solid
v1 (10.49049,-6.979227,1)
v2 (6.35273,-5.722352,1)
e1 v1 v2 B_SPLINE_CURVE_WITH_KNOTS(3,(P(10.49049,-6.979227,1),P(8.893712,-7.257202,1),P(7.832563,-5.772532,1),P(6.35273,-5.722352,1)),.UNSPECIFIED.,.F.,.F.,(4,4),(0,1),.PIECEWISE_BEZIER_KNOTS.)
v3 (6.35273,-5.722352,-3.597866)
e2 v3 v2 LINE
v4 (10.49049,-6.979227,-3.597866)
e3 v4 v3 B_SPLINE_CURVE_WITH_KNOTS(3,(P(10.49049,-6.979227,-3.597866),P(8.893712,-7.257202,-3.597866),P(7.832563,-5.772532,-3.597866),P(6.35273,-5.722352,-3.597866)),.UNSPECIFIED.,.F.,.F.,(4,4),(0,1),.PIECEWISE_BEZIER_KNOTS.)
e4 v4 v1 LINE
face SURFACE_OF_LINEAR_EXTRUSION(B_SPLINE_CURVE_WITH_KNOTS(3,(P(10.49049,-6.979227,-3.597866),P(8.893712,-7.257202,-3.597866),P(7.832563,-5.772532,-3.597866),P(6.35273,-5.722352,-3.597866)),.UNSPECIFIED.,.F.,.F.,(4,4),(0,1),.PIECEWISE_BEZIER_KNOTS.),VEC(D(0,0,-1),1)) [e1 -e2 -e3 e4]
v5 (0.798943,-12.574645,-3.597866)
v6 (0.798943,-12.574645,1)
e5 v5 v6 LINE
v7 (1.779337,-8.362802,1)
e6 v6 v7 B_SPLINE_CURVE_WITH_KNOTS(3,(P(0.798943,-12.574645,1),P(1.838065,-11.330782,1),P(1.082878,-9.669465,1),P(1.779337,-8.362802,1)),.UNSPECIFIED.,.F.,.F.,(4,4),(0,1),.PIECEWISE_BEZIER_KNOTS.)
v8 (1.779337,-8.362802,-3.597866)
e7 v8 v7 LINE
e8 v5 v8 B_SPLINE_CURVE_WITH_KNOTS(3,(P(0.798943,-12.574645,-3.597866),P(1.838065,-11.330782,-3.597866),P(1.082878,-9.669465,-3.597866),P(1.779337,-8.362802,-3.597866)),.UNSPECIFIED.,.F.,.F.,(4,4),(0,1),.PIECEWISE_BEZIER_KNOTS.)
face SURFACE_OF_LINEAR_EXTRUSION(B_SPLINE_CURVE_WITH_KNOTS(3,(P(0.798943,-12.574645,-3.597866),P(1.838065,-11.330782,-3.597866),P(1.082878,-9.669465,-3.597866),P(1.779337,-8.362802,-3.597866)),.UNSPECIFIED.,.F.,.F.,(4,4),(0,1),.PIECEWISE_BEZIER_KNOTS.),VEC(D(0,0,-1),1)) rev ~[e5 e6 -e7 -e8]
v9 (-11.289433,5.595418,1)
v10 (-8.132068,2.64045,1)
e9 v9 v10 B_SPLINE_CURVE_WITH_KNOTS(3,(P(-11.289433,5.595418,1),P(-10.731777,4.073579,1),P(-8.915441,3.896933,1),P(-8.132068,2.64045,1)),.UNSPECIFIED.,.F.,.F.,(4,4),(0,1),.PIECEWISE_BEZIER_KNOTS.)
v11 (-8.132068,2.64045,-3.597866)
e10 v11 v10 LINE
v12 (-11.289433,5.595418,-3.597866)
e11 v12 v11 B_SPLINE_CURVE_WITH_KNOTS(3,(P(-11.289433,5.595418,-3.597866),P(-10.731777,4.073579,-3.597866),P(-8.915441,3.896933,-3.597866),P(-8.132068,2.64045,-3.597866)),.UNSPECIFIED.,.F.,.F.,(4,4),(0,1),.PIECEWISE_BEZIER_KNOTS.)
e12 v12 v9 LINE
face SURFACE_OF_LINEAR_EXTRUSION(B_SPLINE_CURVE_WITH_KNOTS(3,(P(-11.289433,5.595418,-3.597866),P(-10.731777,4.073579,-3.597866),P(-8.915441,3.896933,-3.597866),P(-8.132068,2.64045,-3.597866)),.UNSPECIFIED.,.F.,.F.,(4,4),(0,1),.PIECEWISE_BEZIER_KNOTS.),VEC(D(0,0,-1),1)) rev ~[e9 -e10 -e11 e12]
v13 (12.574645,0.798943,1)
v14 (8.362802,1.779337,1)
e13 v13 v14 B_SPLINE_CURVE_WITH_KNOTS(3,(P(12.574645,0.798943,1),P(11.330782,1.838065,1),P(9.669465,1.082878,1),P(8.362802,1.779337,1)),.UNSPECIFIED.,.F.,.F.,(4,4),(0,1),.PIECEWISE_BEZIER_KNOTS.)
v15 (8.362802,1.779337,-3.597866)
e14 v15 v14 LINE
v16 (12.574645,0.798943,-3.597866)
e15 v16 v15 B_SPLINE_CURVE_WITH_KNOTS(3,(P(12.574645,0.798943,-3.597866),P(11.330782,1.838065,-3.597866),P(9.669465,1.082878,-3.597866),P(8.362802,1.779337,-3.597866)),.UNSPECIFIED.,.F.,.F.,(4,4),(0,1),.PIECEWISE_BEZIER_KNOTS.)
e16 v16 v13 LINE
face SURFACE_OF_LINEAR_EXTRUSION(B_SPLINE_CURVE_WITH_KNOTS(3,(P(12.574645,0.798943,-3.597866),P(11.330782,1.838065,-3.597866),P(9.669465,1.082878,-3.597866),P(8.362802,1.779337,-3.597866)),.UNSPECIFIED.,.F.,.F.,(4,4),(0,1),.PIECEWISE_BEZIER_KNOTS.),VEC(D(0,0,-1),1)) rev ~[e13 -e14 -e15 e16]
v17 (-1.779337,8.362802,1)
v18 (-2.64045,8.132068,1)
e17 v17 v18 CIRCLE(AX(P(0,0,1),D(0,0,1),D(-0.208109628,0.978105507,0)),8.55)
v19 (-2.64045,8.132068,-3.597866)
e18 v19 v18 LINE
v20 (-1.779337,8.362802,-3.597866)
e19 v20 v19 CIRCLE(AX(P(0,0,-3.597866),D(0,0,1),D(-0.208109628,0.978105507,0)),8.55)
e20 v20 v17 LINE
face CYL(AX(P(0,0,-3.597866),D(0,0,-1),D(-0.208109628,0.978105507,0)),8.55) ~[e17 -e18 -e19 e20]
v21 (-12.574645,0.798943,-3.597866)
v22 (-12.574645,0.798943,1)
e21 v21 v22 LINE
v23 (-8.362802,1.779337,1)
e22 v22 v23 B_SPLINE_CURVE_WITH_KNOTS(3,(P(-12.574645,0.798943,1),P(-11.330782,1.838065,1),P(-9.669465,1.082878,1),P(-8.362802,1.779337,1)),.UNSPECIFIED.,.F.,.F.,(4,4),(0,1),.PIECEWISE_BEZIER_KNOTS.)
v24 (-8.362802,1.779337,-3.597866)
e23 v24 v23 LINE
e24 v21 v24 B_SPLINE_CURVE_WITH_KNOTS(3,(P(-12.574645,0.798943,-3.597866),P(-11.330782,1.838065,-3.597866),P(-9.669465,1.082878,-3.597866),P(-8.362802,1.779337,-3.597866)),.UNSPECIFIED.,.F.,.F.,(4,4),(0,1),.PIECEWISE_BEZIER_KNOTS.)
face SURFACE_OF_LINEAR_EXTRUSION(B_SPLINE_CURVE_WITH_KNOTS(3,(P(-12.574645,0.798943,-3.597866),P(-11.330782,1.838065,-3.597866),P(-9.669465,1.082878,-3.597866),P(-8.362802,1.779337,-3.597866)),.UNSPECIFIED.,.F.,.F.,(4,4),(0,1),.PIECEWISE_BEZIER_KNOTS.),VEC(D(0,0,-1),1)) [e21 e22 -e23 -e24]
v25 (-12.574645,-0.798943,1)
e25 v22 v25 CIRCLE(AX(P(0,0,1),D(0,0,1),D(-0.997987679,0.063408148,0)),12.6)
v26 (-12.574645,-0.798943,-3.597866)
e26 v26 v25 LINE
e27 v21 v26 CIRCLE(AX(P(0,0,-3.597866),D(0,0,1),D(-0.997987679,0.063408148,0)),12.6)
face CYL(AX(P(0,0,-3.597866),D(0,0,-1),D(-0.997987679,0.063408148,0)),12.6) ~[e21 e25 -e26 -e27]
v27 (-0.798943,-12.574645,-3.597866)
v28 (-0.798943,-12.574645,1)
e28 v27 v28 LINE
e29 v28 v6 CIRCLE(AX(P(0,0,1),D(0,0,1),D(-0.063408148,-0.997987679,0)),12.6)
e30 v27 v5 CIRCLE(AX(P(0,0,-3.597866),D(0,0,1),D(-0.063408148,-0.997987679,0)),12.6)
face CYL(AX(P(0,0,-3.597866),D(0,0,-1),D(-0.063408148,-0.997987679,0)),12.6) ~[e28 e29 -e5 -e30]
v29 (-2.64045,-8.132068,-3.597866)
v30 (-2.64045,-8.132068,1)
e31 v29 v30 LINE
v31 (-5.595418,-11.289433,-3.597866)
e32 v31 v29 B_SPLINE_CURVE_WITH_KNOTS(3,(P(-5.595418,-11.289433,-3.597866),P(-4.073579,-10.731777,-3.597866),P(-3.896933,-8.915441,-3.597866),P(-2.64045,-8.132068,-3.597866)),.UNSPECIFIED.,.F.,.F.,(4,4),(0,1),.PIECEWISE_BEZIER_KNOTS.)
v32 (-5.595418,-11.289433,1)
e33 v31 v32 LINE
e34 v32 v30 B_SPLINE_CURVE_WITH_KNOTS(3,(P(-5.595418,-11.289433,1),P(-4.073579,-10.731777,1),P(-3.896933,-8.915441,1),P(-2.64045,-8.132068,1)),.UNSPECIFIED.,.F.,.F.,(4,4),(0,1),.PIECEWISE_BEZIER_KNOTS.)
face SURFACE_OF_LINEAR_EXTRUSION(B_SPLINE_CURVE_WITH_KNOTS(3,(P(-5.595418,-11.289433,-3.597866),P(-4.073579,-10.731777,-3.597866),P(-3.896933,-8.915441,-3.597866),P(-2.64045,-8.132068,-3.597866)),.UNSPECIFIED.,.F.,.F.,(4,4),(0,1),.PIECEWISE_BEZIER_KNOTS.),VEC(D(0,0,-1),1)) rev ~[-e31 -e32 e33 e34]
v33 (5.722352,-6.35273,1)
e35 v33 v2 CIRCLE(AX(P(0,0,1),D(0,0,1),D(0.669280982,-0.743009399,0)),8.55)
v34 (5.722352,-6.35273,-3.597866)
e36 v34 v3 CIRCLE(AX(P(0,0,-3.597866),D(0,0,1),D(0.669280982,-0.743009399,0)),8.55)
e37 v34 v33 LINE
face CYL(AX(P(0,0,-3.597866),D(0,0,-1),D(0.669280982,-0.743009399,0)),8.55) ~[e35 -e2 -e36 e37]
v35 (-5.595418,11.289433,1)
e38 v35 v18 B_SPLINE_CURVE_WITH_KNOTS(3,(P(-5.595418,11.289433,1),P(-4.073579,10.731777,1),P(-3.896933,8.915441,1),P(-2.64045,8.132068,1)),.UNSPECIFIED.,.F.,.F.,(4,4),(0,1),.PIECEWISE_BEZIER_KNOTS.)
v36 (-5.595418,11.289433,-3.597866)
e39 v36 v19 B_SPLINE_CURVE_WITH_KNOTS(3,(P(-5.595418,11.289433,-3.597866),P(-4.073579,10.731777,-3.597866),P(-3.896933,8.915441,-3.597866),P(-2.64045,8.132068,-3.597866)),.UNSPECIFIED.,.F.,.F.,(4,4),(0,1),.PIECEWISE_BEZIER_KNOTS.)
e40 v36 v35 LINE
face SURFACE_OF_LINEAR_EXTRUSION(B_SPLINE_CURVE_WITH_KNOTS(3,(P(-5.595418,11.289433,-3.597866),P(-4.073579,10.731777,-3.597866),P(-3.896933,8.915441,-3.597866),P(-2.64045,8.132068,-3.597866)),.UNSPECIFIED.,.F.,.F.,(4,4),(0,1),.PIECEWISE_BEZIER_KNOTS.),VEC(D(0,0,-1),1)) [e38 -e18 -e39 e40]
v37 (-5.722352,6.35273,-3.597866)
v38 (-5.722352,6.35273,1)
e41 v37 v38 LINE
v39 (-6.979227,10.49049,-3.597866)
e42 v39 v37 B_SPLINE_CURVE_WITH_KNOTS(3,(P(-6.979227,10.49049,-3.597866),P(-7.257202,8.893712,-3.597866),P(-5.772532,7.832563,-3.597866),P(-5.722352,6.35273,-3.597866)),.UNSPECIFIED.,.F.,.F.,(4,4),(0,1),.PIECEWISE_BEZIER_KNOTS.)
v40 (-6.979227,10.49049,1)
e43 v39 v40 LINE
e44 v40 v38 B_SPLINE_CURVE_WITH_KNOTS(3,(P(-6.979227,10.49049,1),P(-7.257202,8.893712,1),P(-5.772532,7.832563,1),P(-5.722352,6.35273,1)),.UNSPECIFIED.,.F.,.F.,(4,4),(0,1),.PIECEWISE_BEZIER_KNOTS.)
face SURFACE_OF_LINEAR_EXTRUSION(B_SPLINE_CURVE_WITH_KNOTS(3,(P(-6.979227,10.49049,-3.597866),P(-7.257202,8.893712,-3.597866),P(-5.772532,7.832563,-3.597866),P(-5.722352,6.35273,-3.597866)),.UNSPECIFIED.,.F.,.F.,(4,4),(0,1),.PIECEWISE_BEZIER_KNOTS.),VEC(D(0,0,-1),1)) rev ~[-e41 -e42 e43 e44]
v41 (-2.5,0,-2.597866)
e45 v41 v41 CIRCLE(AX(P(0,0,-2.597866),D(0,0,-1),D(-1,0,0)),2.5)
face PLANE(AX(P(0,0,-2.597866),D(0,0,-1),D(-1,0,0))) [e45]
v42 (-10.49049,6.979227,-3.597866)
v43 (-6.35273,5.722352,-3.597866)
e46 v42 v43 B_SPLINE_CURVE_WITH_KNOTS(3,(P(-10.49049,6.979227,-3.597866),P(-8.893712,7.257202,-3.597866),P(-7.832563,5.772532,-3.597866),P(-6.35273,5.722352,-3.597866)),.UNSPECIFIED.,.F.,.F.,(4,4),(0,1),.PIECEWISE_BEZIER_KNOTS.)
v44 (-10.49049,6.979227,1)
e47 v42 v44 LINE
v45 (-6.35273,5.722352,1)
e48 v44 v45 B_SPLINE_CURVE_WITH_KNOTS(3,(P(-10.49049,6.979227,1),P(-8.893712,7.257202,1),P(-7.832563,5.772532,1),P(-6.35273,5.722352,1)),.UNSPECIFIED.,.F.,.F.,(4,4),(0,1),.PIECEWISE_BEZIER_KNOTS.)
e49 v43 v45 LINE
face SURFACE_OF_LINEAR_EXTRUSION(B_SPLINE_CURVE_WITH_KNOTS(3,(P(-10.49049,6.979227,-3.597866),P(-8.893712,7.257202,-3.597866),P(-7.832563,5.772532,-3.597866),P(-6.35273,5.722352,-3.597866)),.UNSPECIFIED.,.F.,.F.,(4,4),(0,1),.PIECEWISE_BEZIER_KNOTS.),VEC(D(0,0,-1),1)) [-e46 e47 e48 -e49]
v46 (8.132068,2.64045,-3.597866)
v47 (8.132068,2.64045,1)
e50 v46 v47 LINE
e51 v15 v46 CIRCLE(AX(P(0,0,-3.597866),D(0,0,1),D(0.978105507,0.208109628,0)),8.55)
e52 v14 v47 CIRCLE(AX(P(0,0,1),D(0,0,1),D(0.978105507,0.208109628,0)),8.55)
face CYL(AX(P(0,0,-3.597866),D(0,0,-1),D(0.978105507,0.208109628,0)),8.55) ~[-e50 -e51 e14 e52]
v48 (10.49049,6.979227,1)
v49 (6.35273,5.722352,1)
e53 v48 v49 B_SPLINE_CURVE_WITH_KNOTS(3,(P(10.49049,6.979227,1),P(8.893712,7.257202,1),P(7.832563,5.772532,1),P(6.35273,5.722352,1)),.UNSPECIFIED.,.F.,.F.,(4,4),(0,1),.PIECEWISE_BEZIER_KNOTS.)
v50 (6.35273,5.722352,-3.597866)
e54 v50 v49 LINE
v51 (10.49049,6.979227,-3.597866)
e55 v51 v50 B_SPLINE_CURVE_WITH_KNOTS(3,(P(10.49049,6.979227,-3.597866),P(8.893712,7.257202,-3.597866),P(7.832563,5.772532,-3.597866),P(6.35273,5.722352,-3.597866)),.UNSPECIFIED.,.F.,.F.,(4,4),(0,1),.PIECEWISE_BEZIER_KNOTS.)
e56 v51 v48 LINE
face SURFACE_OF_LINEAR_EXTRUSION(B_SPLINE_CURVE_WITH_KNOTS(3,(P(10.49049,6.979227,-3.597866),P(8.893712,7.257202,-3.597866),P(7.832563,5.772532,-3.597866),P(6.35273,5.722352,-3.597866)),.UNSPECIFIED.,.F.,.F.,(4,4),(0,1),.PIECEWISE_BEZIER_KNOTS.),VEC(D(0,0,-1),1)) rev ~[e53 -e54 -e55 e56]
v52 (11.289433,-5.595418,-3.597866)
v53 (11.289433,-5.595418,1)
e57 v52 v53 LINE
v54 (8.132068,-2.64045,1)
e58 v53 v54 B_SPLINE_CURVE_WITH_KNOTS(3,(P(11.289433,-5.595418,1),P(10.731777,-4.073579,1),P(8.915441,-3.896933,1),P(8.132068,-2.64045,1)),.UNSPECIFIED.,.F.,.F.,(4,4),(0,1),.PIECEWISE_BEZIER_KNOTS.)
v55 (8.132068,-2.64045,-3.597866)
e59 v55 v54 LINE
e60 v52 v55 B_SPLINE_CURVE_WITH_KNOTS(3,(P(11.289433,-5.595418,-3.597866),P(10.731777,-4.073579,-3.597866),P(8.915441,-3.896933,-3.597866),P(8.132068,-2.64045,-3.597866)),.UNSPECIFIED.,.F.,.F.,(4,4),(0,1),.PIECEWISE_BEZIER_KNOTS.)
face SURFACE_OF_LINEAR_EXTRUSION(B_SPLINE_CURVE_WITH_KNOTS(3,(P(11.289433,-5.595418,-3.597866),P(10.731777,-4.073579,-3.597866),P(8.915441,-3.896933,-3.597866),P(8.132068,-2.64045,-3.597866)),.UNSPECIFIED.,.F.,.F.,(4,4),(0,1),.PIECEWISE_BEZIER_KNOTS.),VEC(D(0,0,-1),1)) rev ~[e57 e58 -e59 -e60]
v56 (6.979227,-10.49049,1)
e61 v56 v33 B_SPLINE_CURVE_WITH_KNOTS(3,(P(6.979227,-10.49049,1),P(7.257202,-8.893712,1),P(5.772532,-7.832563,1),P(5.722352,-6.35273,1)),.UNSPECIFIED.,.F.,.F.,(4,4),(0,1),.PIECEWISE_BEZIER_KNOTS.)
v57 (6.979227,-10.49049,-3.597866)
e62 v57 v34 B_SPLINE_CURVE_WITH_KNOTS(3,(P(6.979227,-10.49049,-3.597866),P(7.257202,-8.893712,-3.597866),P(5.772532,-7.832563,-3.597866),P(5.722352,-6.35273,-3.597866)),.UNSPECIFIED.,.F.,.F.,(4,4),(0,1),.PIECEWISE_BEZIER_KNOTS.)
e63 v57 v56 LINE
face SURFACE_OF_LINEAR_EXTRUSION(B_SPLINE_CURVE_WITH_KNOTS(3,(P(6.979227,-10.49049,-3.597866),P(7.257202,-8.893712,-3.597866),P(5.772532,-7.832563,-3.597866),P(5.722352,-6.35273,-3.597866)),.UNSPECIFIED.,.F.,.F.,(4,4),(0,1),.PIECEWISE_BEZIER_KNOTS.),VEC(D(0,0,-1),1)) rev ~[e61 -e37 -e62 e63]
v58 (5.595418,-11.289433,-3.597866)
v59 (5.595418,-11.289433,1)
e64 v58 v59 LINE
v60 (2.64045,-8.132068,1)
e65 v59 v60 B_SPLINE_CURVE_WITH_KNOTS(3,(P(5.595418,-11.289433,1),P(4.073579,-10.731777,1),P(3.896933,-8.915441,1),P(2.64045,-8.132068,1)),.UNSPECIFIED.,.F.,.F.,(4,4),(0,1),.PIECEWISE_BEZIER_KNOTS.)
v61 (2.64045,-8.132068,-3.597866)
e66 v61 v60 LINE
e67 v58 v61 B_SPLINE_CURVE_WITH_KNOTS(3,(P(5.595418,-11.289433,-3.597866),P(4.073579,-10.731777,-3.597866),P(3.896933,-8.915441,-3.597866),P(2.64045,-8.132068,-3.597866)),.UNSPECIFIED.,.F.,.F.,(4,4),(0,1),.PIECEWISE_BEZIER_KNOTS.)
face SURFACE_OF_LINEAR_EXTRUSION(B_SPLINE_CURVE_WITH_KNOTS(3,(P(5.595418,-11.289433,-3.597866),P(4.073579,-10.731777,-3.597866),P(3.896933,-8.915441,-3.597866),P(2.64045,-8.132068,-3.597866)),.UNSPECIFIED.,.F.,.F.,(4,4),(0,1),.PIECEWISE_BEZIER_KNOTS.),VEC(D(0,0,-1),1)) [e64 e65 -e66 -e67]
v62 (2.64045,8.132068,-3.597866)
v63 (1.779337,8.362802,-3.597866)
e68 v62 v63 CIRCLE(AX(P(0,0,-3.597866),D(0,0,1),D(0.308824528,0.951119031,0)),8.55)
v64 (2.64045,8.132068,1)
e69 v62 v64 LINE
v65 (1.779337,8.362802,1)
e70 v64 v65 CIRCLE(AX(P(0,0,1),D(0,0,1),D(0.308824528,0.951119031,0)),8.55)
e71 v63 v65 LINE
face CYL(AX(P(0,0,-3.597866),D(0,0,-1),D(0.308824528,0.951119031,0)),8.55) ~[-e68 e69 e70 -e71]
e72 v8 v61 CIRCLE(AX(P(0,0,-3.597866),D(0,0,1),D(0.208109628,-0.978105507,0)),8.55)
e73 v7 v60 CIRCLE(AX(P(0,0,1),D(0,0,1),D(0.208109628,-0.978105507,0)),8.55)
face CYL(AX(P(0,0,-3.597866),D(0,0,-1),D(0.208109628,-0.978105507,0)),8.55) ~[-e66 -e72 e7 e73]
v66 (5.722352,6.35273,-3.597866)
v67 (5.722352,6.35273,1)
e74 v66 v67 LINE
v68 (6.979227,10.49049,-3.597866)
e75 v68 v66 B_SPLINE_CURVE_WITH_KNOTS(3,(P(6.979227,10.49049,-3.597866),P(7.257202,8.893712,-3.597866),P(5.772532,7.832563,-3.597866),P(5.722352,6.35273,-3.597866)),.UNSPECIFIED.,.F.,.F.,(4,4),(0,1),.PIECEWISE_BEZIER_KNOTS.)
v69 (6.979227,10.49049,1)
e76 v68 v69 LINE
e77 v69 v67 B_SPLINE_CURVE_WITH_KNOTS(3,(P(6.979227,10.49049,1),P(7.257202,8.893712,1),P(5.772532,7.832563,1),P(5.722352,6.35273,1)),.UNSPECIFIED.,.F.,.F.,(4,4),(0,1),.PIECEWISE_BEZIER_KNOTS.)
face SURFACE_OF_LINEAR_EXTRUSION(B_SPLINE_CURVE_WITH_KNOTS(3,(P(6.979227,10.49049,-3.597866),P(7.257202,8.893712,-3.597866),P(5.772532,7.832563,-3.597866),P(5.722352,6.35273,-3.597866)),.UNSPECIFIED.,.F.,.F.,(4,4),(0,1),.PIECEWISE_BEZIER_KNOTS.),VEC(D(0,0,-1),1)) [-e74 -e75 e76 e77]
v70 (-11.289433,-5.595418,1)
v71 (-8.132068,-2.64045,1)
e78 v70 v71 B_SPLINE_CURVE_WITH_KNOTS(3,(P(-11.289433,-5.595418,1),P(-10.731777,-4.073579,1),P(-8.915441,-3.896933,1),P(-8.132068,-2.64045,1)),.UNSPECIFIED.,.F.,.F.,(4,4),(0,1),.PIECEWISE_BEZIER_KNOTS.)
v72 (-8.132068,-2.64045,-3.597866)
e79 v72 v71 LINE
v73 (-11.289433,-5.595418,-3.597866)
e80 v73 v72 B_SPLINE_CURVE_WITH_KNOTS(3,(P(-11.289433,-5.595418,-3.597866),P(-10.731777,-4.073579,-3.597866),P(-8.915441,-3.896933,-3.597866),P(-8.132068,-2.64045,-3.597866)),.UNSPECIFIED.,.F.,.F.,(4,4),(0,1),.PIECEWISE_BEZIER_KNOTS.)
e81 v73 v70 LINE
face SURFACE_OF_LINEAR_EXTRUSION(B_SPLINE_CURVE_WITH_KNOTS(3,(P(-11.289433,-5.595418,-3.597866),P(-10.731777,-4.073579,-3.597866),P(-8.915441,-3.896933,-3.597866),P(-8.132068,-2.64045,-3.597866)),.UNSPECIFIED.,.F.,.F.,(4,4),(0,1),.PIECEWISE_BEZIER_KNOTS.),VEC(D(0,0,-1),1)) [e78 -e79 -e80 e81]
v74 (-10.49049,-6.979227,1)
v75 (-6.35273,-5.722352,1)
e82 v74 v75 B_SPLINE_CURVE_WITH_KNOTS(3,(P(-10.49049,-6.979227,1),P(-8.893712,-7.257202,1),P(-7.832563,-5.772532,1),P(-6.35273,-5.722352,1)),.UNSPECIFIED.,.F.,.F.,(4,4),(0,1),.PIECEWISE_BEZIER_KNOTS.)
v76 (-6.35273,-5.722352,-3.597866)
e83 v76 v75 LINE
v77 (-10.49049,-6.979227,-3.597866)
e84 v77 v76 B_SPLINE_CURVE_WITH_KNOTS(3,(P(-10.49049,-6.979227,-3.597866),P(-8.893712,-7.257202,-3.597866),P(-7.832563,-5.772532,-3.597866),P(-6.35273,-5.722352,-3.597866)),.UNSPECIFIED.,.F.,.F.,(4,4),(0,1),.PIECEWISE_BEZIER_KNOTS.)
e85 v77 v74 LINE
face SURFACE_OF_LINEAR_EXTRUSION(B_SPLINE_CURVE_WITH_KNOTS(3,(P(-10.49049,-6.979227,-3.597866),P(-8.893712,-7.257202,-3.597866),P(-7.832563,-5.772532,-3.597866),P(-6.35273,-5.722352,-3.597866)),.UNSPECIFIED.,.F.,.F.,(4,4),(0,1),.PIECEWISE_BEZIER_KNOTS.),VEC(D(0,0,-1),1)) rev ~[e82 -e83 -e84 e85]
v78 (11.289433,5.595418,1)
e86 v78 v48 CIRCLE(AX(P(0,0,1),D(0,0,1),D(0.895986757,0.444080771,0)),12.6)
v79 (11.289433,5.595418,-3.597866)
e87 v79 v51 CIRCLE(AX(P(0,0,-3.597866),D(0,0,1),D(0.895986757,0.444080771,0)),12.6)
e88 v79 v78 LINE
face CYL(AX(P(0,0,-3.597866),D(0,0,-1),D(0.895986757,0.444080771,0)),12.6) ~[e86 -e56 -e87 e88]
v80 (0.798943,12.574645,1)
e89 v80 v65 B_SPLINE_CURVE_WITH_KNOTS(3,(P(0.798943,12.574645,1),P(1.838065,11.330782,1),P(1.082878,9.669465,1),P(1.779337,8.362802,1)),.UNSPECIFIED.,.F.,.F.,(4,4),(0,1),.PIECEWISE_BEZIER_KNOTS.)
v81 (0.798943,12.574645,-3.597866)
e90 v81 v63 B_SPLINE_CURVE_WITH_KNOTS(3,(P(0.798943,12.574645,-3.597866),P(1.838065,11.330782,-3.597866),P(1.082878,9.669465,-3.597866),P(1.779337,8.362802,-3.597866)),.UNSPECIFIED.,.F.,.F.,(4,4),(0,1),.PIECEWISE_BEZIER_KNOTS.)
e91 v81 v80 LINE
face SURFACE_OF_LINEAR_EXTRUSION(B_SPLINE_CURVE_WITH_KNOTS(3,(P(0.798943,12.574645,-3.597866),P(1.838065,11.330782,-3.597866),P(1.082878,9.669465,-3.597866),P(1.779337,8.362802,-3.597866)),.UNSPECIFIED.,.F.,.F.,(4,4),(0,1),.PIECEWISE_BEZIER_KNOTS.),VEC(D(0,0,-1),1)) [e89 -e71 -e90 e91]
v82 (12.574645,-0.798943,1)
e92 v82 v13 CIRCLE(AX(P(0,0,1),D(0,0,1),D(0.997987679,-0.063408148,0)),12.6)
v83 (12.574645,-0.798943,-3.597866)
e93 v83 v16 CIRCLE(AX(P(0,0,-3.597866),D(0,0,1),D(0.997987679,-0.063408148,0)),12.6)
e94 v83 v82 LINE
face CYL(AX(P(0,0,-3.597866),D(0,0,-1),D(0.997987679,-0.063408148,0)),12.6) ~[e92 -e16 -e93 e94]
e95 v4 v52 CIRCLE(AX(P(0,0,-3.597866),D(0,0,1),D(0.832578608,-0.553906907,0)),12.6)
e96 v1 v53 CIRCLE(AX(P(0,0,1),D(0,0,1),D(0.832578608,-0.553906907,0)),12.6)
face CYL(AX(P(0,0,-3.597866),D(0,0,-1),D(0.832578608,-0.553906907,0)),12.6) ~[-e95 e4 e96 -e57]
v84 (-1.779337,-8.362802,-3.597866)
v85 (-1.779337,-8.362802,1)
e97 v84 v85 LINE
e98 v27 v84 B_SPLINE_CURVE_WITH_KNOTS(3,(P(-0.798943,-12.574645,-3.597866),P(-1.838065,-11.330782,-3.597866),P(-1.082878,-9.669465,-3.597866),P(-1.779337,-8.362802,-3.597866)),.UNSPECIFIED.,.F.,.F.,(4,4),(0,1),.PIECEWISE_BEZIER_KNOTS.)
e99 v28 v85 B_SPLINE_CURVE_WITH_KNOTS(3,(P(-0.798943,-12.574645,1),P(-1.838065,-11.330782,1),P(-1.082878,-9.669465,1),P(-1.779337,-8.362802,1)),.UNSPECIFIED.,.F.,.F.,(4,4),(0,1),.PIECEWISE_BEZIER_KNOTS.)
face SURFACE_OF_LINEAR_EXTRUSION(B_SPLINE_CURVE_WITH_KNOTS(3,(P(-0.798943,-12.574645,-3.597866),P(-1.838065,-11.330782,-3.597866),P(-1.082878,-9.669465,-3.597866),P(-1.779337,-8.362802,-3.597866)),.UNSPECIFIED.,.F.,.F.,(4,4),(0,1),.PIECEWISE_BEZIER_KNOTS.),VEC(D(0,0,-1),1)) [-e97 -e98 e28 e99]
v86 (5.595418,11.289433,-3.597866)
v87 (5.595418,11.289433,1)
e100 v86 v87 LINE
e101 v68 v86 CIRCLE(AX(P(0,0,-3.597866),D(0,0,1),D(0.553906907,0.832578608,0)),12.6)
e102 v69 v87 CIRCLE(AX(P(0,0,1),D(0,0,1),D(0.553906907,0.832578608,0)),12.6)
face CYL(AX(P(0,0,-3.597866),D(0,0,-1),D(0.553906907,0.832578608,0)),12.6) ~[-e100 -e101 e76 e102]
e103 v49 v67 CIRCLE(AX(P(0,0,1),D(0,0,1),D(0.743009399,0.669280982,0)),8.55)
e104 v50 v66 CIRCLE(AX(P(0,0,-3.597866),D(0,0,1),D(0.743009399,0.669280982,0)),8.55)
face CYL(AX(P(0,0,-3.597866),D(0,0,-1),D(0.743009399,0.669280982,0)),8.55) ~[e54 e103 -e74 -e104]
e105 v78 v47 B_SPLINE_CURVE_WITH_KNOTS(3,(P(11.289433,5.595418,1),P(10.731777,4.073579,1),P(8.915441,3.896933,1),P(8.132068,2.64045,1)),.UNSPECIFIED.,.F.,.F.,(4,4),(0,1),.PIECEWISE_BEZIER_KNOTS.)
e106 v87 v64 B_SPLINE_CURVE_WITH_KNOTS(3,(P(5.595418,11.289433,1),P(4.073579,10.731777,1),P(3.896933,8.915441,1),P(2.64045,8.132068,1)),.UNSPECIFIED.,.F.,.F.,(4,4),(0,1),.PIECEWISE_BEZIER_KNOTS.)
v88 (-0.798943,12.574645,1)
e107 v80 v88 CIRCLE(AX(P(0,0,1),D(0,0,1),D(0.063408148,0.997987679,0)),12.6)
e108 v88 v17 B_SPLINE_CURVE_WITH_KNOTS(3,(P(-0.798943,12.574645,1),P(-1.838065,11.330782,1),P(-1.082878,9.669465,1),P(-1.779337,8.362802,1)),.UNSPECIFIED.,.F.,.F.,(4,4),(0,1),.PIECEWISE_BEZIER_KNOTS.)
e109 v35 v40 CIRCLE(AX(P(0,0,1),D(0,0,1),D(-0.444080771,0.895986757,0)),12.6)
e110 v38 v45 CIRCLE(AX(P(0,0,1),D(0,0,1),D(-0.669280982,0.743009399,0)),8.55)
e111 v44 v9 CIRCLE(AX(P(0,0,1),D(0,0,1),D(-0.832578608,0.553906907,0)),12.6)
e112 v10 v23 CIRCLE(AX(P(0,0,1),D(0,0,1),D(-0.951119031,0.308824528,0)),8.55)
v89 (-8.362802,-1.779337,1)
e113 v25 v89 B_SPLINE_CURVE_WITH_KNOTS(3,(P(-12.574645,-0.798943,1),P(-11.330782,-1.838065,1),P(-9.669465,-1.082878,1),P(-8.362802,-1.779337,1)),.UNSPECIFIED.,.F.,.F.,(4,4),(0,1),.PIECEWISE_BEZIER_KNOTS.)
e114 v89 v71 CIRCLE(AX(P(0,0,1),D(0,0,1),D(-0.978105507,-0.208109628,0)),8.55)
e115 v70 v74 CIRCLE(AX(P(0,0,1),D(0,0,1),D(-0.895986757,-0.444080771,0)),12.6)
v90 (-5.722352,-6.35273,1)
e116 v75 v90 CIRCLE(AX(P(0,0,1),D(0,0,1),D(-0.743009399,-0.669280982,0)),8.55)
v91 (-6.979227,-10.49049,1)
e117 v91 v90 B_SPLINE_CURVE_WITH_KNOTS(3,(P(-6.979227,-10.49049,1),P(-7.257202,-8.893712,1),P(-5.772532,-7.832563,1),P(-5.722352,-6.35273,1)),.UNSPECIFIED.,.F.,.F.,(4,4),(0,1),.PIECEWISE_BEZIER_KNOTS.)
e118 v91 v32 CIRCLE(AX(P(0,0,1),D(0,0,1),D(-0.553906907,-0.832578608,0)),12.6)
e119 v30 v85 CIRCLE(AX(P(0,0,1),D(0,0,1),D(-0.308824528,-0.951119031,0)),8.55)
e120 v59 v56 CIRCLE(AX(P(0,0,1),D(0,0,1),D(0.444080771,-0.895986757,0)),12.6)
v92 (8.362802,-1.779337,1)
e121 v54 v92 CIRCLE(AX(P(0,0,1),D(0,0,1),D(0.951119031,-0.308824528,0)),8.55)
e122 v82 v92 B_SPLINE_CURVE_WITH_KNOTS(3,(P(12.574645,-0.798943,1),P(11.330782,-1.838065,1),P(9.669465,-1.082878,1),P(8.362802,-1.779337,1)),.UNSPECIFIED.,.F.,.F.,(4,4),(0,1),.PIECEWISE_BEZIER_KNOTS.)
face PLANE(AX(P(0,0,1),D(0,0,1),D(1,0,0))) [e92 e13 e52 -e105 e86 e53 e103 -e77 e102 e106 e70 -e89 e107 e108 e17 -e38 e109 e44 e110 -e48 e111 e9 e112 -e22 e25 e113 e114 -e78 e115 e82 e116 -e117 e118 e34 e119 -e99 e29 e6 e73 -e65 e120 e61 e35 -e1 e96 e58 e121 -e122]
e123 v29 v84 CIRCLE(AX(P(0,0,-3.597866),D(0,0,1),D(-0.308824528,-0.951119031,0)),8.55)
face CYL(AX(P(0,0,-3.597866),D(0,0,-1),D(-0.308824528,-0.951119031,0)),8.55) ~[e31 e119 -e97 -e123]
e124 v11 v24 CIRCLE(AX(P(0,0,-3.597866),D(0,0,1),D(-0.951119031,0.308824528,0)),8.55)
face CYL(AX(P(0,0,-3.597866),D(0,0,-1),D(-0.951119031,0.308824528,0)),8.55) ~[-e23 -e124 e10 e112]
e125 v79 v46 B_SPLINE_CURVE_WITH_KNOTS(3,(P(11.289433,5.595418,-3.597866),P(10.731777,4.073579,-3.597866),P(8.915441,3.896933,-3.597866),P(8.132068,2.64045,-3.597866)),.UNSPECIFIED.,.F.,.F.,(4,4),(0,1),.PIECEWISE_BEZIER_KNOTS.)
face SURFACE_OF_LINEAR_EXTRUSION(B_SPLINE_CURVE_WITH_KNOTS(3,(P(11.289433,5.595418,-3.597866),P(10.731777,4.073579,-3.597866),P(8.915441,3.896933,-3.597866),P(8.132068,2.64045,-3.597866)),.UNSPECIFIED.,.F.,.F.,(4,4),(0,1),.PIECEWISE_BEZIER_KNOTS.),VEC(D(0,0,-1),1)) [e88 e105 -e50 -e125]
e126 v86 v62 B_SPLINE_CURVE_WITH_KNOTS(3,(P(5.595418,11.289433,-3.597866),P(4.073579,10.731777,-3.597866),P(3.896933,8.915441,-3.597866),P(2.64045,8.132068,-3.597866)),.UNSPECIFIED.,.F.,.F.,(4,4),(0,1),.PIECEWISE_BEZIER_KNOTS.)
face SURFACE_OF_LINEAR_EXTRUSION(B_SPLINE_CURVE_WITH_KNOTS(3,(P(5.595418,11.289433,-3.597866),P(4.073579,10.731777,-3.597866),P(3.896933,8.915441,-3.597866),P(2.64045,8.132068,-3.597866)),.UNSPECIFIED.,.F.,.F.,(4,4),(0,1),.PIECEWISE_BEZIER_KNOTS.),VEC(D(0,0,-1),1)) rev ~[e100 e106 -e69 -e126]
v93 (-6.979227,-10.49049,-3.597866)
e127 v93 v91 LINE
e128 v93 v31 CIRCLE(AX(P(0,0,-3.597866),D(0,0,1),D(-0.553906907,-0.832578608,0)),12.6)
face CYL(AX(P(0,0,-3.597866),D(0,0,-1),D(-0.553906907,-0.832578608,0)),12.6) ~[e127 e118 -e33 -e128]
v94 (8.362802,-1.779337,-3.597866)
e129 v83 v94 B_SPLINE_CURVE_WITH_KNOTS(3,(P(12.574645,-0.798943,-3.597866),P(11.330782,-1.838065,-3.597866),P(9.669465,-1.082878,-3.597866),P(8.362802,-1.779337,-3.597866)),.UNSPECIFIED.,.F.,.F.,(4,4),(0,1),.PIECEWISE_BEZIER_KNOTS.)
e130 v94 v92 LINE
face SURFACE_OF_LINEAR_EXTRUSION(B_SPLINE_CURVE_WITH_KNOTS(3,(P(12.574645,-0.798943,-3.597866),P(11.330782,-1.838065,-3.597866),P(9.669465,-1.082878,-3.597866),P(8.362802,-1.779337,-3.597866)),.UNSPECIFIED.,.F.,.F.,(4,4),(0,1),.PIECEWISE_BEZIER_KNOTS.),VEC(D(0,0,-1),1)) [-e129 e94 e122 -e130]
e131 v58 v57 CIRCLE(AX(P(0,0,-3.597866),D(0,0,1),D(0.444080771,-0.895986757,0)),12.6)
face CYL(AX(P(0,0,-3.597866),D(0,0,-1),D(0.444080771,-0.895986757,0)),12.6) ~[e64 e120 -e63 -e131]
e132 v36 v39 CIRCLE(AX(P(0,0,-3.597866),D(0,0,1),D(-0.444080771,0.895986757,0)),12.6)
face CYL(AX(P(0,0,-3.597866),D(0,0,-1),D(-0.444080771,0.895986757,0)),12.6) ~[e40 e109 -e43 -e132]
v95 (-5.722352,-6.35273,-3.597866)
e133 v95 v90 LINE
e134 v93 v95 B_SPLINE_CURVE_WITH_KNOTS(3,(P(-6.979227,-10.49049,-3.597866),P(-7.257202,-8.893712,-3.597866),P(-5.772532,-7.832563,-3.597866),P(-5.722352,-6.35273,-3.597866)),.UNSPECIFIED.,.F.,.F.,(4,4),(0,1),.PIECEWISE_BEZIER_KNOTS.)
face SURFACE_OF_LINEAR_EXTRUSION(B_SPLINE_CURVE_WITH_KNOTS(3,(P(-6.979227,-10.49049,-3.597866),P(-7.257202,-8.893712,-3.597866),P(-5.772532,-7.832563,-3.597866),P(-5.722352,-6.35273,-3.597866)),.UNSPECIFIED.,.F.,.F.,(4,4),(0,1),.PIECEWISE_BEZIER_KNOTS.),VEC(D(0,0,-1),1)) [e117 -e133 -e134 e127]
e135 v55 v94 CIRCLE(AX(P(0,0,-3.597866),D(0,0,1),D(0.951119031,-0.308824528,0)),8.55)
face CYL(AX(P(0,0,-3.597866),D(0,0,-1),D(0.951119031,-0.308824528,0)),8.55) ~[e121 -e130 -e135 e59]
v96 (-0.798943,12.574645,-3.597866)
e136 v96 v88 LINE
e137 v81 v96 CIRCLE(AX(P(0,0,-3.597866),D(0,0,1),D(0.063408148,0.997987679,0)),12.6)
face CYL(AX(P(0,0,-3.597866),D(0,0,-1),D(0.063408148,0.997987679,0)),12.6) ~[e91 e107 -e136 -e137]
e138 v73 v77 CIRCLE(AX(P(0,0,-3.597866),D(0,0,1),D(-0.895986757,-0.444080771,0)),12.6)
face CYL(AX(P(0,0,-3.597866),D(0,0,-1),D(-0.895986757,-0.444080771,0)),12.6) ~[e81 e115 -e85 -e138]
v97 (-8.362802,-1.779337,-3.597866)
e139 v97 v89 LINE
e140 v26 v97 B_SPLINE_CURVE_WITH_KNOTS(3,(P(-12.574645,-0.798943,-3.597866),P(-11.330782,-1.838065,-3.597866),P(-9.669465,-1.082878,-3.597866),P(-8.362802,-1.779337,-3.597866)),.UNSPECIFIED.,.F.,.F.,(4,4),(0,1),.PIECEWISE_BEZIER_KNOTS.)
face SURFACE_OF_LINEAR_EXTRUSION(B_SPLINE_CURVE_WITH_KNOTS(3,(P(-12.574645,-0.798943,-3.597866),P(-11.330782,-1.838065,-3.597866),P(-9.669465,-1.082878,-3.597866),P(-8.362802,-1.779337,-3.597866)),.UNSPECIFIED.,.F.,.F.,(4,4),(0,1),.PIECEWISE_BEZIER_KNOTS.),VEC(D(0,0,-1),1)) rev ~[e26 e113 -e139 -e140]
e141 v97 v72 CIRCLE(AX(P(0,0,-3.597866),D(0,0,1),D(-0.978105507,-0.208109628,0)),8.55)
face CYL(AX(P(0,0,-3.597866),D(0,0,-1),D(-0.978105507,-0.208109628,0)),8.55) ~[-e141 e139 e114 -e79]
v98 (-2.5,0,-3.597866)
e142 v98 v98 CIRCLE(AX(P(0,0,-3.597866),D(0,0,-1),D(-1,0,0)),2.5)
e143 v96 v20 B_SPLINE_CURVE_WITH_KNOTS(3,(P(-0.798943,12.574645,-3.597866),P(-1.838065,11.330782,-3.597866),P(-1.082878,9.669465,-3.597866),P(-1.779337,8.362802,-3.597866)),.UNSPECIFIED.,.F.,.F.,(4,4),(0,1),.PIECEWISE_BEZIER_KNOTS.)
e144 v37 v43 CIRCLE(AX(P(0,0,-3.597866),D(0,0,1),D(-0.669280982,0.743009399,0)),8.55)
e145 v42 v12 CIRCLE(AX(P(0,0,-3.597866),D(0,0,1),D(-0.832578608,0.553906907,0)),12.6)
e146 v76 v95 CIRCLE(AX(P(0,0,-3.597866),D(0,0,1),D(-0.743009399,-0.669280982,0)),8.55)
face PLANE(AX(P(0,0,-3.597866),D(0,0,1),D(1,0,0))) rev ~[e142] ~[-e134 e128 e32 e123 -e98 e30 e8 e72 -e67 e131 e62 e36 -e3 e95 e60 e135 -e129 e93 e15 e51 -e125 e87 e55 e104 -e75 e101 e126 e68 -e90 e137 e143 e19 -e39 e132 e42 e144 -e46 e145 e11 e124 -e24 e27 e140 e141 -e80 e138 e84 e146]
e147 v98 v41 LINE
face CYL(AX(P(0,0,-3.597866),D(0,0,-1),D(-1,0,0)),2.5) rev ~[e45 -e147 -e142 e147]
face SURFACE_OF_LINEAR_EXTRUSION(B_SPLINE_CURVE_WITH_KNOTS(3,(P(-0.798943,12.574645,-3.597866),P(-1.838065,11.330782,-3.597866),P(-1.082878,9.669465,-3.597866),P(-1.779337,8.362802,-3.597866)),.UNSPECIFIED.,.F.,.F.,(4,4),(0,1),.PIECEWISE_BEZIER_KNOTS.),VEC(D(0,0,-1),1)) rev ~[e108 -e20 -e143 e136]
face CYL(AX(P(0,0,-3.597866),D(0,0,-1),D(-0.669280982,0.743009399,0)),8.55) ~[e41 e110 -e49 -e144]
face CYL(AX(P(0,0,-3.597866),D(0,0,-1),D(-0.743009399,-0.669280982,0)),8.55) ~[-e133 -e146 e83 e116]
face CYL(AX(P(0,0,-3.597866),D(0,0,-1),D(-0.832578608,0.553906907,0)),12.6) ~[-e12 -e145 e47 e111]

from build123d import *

# Parameters (mm, degrees)
EXTRUDE_1_DEPTH      = 1
EXTRUDE_1_DEPTH_BACK = 3.597865908
SKETCH_2_R           = 2.5
CUT_EXTRUDE_1_DEPTH  = 1


with BuildPart() as part:
    # 草图1 → 凸台-拉伸1 (new, two sides: drawn at the far end of the back side and taken through both)
    with BuildSketch(Plane.XY.offset(-EXTRUDE_1_DEPTH_BACK)):
        with BuildLine():
            ThreePointArc((-2.640449702, -8.132067718), (-2.212902836, -8.258665815), (-1.779337339, -8.36280208))
            add(Edge.make_bspline(
                [(-0.798942675, -12.574644751), (-1.838065444, -11.330781503), (-1.08287755, -9.669464778), (-1.779337339, -8.36280208)],
                knots=[0, 0, 0, 0, 1, 1, 1, 1], degree=3))
            ThreePointArc((-0.798942675, -12.574644751), (0, -12.6), (0.798942675, -12.574644751))
            add(Edge.make_bspline(
                [(0.798942675, -12.574644751), (1.838065444, -11.330781503), (1.08287755, -9.669464778), (1.779337339, -8.36280208)],
                knots=[0, 0, 0, 0, 1, 1, 1, 1], degree=3))
            ThreePointArc((1.779337339, -8.36280208), (2.212902836, -8.258665815), (2.640449702, -8.132067718))
            add(Edge.make_bspline(
                [(5.595417723, -11.289433135), (4.073579383, -10.731777349), (3.896932922, -8.915440914), (2.640449702, -8.132067718)],
                knots=[0, 0, 0, 0, 1, 1, 1, 1], degree=3))
            ThreePointArc((5.595417723, -11.289433135), (6.3, -10.911920088), (6.979227028, -10.49049046))
            add(Edge.make_bspline(
                [(6.979227028, -10.49049046), (7.25720212, -8.893711904), (5.772531856, -7.832563364), (5.722352378, -6.352730379)],
                knots=[0, 0, 0, 0, 1, 1, 1, 1], degree=3))
            ThreePointArc((5.722352378, -6.352730379), (6.045762979, -6.045762979), (6.352730379, -5.722352378))
            add(Edge.make_bspline(
                [(10.49049046, -6.979227028), (8.893711904, -7.25720212), (7.832563364, -5.772531856), (6.352730379, -5.722352378)],
                knots=[0, 0, 0, 0, 1, 1, 1, 1], degree=3))
            ThreePointArc((10.49049046, -6.979227028), (10.911920088, -6.3), (11.289433135, -5.595417723))
            add(Edge.make_bspline(
                [(11.289433135, -5.595417723), (10.731777349, -4.073579383), (8.915440914, -3.896932922), (8.132067718, -2.640449702)],
                knots=[0, 0, 0, 0, 1, 1, 1, 1], degree=3))
            ThreePointArc((8.132067718, -2.640449702), (8.258665815, -2.212902836), (8.36280208, -1.779337339))
            add(Edge.make_bspline(
                [(12.574644751, -0.798942675), (11.330781503, -1.838065444), (9.669464778, -1.08287755), (8.36280208, -1.779337339)],
                knots=[0, 0, 0, 0, 1, 1, 1, 1], degree=3))
            ThreePointArc((12.574644751, -0.798942675), (12.6, 0), (12.574644751, 0.798942675))
            add(Edge.make_bspline(
                [(12.574644751, 0.798942675), (11.330781503, 1.838065444), (9.669464778, 1.08287755), (8.36280208, 1.779337339)],
                knots=[0, 0, 0, 0, 1, 1, 1, 1], degree=3))
            ThreePointArc((8.36280208, 1.779337339), (8.258665815, 2.212902836), (8.132067718, 2.640449702))
            add(Edge.make_bspline(
                [(11.289433135, 5.595417723), (10.731777349, 4.073579383), (8.915440914, 3.896932922), (8.132067718, 2.640449702)],
                knots=[0, 0, 0, 0, 1, 1, 1, 1], degree=3))
            ThreePointArc((11.289433135, 5.595417723), (10.911920088, 6.3), (10.49049046, 6.979227028))
            add(Edge.make_bspline(
                [(10.49049046, 6.979227028), (8.893711904, 7.25720212), (7.832563364, 5.772531856), (6.352730379, 5.722352378)],
                knots=[0, 0, 0, 0, 1, 1, 1, 1], degree=3))
            ThreePointArc((6.352730379, 5.722352378), (6.045762979, 6.045762979), (5.722352378, 6.352730379))
            add(Edge.make_bspline(
                [(6.979227028, 10.49049046), (7.25720212, 8.893711904), (5.772531856, 7.832563364), (5.722352378, 6.352730379)],
                knots=[0, 0, 0, 0, 1, 1, 1, 1], degree=3))
            ThreePointArc((6.979227028, 10.49049046), (6.3, 10.911920088), (5.595417723, 11.289433135))
            add(Edge.make_bspline(
                [(5.595417723, 11.289433135), (4.073579383, 10.731777349), (3.896932922, 8.915440914), (2.640449702, 8.132067718)],
                knots=[0, 0, 0, 0, 1, 1, 1, 1], degree=3))
            ThreePointArc((2.640449702, 8.132067718), (2.212902836, 8.258665815), (1.779337339, 8.36280208))
            add(Edge.make_bspline(
                [(0.798942675, 12.574644751), (1.838065444, 11.330781503), (1.08287755, 9.669464778), (1.779337339, 8.36280208)],
                knots=[0, 0, 0, 0, 1, 1, 1, 1], degree=3))
            ThreePointArc((0.798942675, 12.574644751), (0, 12.6), (-0.798942675, 12.574644751))
            add(Edge.make_bspline(
                [(-0.798942675, 12.574644751), (-1.838065444, 11.330781503), (-1.08287755, 9.669464778), (-1.779337339, 8.36280208)],
                knots=[0, 0, 0, 0, 1, 1, 1, 1], degree=3))
            ThreePointArc((-1.779337339, 8.36280208), (-2.212902836, 8.258665815), (-2.640449702, 8.132067718))
            add(Edge.make_bspline(
                [(-5.595417723, 11.289433135), (-4.073579383, 10.731777349), (-3.896932922, 8.915440914), (-2.640449702, 8.132067718)],
                knots=[0, 0, 0, 0, 1, 1, 1, 1], degree=3))
            ThreePointArc((-5.595417723, 11.289433135), (-6.3, 10.911920088), (-6.979227028, 10.49049046))
            add(Edge.make_bspline(
                [(-6.979227028, 10.49049046), (-7.25720212, 8.893711904), (-5.772531856, 7.832563364), (-5.722352378, 6.352730379)],
                knots=[0, 0, 0, 0, 1, 1, 1, 1], degree=3))
            ThreePointArc((-5.722352378, 6.352730379), (-6.045762979, 6.045762979), (-6.352730379, 5.722352378))
            add(Edge.make_bspline(
                [(-10.49049046, 6.979227028), (-8.893711904, 7.25720212), (-7.832563364, 5.772531856), (-6.352730379, 5.722352378)],
                knots=[0, 0, 0, 0, 1, 1, 1, 1], degree=3))
            ThreePointArc((-10.49049046, 6.979227028), (-10.911920088, 6.3), (-11.289433135, 5.595417723))
            add(Edge.make_bspline(
                [(-11.289433135, 5.595417723), (-10.731777349, 4.073579383), (-8.915440914, 3.896932922), (-8.132067718, 2.640449702)],
                knots=[0, 0, 0, 0, 1, 1, 1, 1], degree=3))
            ThreePointArc((-8.132067718, 2.640449702), (-8.258665815, 2.212902836), (-8.36280208, 1.779337339))
            add(Edge.make_bspline(
                [(-12.574644751, 0.798942675), (-11.330781503, 1.838065444), (-9.669464778, 1.08287755), (-8.36280208, 1.779337339)],
                knots=[0, 0, 0, 0, 1, 1, 1, 1], degree=3))
            ThreePointArc((-12.574644751, 0.798942675), (-12.6, 0), (-12.574644751, -0.798942675))
            add(Edge.make_bspline(
                [(-12.574644751, -0.798942675), (-11.330781503, -1.838065444), (-9.669464778, -1.08287755), (-8.36280208, -1.779337339)],
                knots=[0, 0, 0, 0, 1, 1, 1, 1], degree=3))
            ThreePointArc((-8.36280208, -1.779337339), (-8.258665815, -2.212902836), (-8.132067718, -2.640449702))
            add(Edge.make_bspline(
                [(-11.289433135, -5.595417723), (-10.731777349, -4.073579383), (-8.915440914, -3.896932922), (-8.132067718, -2.640449702)],
                knots=[0, 0, 0, 0, 1, 1, 1, 1], degree=3))
            ThreePointArc((-11.289433135, -5.595417723), (-10.911920088, -6.3), (-10.49049046, -6.979227028))
            add(Edge.make_bspline(
                [(-10.49049046, -6.979227028), (-8.893711904, -7.25720212), (-7.832563364, -5.772531856), (-6.352730379, -5.722352378)],
                knots=[0, 0, 0, 0, 1, 1, 1, 1], degree=3))
            ThreePointArc((-6.352730379, -5.722352378), (-6.045762979, -6.045762979), (-5.722352378, -6.352730379))
            add(Edge.make_bspline(
                [(-6.979227028, -10.49049046), (-7.25720212, -8.893711904), (-5.772531856, -7.832563364), (-5.722352378, -6.352730379)],
                knots=[0, 0, 0, 0, 1, 1, 1, 1], degree=3))
            ThreePointArc((-6.979227028, -10.49049046), (-6.3, -10.911920088), (-5.595417723, -11.289433135))
            add(Edge.make_bspline(
                [(-5.595417723, -11.289433135), (-4.073579383, -10.731777349), (-3.896932922, -8.915440914), (-2.640449702, -8.132067718)],
                knots=[0, 0, 0, 0, 1, 1, 1, 1], degree=3))
        make_face()
    extrude(amount=EXTRUDE_1_DEPTH + EXTRUDE_1_DEPTH_BACK)

    # 草图2 → 切除-拉伸1 (cut)
    with BuildSketch(Plane(origin=(0, 0, -3.597865908), x_dir=(-1, 0, 0), z_dir=(0, 0, -1))):
        Circle(SKETCH_2_R)
    extrude(amount=-CUT_EXTRUDE_1_DEPTH, mode=Mode.SUBTRACT)


solid = part.part
